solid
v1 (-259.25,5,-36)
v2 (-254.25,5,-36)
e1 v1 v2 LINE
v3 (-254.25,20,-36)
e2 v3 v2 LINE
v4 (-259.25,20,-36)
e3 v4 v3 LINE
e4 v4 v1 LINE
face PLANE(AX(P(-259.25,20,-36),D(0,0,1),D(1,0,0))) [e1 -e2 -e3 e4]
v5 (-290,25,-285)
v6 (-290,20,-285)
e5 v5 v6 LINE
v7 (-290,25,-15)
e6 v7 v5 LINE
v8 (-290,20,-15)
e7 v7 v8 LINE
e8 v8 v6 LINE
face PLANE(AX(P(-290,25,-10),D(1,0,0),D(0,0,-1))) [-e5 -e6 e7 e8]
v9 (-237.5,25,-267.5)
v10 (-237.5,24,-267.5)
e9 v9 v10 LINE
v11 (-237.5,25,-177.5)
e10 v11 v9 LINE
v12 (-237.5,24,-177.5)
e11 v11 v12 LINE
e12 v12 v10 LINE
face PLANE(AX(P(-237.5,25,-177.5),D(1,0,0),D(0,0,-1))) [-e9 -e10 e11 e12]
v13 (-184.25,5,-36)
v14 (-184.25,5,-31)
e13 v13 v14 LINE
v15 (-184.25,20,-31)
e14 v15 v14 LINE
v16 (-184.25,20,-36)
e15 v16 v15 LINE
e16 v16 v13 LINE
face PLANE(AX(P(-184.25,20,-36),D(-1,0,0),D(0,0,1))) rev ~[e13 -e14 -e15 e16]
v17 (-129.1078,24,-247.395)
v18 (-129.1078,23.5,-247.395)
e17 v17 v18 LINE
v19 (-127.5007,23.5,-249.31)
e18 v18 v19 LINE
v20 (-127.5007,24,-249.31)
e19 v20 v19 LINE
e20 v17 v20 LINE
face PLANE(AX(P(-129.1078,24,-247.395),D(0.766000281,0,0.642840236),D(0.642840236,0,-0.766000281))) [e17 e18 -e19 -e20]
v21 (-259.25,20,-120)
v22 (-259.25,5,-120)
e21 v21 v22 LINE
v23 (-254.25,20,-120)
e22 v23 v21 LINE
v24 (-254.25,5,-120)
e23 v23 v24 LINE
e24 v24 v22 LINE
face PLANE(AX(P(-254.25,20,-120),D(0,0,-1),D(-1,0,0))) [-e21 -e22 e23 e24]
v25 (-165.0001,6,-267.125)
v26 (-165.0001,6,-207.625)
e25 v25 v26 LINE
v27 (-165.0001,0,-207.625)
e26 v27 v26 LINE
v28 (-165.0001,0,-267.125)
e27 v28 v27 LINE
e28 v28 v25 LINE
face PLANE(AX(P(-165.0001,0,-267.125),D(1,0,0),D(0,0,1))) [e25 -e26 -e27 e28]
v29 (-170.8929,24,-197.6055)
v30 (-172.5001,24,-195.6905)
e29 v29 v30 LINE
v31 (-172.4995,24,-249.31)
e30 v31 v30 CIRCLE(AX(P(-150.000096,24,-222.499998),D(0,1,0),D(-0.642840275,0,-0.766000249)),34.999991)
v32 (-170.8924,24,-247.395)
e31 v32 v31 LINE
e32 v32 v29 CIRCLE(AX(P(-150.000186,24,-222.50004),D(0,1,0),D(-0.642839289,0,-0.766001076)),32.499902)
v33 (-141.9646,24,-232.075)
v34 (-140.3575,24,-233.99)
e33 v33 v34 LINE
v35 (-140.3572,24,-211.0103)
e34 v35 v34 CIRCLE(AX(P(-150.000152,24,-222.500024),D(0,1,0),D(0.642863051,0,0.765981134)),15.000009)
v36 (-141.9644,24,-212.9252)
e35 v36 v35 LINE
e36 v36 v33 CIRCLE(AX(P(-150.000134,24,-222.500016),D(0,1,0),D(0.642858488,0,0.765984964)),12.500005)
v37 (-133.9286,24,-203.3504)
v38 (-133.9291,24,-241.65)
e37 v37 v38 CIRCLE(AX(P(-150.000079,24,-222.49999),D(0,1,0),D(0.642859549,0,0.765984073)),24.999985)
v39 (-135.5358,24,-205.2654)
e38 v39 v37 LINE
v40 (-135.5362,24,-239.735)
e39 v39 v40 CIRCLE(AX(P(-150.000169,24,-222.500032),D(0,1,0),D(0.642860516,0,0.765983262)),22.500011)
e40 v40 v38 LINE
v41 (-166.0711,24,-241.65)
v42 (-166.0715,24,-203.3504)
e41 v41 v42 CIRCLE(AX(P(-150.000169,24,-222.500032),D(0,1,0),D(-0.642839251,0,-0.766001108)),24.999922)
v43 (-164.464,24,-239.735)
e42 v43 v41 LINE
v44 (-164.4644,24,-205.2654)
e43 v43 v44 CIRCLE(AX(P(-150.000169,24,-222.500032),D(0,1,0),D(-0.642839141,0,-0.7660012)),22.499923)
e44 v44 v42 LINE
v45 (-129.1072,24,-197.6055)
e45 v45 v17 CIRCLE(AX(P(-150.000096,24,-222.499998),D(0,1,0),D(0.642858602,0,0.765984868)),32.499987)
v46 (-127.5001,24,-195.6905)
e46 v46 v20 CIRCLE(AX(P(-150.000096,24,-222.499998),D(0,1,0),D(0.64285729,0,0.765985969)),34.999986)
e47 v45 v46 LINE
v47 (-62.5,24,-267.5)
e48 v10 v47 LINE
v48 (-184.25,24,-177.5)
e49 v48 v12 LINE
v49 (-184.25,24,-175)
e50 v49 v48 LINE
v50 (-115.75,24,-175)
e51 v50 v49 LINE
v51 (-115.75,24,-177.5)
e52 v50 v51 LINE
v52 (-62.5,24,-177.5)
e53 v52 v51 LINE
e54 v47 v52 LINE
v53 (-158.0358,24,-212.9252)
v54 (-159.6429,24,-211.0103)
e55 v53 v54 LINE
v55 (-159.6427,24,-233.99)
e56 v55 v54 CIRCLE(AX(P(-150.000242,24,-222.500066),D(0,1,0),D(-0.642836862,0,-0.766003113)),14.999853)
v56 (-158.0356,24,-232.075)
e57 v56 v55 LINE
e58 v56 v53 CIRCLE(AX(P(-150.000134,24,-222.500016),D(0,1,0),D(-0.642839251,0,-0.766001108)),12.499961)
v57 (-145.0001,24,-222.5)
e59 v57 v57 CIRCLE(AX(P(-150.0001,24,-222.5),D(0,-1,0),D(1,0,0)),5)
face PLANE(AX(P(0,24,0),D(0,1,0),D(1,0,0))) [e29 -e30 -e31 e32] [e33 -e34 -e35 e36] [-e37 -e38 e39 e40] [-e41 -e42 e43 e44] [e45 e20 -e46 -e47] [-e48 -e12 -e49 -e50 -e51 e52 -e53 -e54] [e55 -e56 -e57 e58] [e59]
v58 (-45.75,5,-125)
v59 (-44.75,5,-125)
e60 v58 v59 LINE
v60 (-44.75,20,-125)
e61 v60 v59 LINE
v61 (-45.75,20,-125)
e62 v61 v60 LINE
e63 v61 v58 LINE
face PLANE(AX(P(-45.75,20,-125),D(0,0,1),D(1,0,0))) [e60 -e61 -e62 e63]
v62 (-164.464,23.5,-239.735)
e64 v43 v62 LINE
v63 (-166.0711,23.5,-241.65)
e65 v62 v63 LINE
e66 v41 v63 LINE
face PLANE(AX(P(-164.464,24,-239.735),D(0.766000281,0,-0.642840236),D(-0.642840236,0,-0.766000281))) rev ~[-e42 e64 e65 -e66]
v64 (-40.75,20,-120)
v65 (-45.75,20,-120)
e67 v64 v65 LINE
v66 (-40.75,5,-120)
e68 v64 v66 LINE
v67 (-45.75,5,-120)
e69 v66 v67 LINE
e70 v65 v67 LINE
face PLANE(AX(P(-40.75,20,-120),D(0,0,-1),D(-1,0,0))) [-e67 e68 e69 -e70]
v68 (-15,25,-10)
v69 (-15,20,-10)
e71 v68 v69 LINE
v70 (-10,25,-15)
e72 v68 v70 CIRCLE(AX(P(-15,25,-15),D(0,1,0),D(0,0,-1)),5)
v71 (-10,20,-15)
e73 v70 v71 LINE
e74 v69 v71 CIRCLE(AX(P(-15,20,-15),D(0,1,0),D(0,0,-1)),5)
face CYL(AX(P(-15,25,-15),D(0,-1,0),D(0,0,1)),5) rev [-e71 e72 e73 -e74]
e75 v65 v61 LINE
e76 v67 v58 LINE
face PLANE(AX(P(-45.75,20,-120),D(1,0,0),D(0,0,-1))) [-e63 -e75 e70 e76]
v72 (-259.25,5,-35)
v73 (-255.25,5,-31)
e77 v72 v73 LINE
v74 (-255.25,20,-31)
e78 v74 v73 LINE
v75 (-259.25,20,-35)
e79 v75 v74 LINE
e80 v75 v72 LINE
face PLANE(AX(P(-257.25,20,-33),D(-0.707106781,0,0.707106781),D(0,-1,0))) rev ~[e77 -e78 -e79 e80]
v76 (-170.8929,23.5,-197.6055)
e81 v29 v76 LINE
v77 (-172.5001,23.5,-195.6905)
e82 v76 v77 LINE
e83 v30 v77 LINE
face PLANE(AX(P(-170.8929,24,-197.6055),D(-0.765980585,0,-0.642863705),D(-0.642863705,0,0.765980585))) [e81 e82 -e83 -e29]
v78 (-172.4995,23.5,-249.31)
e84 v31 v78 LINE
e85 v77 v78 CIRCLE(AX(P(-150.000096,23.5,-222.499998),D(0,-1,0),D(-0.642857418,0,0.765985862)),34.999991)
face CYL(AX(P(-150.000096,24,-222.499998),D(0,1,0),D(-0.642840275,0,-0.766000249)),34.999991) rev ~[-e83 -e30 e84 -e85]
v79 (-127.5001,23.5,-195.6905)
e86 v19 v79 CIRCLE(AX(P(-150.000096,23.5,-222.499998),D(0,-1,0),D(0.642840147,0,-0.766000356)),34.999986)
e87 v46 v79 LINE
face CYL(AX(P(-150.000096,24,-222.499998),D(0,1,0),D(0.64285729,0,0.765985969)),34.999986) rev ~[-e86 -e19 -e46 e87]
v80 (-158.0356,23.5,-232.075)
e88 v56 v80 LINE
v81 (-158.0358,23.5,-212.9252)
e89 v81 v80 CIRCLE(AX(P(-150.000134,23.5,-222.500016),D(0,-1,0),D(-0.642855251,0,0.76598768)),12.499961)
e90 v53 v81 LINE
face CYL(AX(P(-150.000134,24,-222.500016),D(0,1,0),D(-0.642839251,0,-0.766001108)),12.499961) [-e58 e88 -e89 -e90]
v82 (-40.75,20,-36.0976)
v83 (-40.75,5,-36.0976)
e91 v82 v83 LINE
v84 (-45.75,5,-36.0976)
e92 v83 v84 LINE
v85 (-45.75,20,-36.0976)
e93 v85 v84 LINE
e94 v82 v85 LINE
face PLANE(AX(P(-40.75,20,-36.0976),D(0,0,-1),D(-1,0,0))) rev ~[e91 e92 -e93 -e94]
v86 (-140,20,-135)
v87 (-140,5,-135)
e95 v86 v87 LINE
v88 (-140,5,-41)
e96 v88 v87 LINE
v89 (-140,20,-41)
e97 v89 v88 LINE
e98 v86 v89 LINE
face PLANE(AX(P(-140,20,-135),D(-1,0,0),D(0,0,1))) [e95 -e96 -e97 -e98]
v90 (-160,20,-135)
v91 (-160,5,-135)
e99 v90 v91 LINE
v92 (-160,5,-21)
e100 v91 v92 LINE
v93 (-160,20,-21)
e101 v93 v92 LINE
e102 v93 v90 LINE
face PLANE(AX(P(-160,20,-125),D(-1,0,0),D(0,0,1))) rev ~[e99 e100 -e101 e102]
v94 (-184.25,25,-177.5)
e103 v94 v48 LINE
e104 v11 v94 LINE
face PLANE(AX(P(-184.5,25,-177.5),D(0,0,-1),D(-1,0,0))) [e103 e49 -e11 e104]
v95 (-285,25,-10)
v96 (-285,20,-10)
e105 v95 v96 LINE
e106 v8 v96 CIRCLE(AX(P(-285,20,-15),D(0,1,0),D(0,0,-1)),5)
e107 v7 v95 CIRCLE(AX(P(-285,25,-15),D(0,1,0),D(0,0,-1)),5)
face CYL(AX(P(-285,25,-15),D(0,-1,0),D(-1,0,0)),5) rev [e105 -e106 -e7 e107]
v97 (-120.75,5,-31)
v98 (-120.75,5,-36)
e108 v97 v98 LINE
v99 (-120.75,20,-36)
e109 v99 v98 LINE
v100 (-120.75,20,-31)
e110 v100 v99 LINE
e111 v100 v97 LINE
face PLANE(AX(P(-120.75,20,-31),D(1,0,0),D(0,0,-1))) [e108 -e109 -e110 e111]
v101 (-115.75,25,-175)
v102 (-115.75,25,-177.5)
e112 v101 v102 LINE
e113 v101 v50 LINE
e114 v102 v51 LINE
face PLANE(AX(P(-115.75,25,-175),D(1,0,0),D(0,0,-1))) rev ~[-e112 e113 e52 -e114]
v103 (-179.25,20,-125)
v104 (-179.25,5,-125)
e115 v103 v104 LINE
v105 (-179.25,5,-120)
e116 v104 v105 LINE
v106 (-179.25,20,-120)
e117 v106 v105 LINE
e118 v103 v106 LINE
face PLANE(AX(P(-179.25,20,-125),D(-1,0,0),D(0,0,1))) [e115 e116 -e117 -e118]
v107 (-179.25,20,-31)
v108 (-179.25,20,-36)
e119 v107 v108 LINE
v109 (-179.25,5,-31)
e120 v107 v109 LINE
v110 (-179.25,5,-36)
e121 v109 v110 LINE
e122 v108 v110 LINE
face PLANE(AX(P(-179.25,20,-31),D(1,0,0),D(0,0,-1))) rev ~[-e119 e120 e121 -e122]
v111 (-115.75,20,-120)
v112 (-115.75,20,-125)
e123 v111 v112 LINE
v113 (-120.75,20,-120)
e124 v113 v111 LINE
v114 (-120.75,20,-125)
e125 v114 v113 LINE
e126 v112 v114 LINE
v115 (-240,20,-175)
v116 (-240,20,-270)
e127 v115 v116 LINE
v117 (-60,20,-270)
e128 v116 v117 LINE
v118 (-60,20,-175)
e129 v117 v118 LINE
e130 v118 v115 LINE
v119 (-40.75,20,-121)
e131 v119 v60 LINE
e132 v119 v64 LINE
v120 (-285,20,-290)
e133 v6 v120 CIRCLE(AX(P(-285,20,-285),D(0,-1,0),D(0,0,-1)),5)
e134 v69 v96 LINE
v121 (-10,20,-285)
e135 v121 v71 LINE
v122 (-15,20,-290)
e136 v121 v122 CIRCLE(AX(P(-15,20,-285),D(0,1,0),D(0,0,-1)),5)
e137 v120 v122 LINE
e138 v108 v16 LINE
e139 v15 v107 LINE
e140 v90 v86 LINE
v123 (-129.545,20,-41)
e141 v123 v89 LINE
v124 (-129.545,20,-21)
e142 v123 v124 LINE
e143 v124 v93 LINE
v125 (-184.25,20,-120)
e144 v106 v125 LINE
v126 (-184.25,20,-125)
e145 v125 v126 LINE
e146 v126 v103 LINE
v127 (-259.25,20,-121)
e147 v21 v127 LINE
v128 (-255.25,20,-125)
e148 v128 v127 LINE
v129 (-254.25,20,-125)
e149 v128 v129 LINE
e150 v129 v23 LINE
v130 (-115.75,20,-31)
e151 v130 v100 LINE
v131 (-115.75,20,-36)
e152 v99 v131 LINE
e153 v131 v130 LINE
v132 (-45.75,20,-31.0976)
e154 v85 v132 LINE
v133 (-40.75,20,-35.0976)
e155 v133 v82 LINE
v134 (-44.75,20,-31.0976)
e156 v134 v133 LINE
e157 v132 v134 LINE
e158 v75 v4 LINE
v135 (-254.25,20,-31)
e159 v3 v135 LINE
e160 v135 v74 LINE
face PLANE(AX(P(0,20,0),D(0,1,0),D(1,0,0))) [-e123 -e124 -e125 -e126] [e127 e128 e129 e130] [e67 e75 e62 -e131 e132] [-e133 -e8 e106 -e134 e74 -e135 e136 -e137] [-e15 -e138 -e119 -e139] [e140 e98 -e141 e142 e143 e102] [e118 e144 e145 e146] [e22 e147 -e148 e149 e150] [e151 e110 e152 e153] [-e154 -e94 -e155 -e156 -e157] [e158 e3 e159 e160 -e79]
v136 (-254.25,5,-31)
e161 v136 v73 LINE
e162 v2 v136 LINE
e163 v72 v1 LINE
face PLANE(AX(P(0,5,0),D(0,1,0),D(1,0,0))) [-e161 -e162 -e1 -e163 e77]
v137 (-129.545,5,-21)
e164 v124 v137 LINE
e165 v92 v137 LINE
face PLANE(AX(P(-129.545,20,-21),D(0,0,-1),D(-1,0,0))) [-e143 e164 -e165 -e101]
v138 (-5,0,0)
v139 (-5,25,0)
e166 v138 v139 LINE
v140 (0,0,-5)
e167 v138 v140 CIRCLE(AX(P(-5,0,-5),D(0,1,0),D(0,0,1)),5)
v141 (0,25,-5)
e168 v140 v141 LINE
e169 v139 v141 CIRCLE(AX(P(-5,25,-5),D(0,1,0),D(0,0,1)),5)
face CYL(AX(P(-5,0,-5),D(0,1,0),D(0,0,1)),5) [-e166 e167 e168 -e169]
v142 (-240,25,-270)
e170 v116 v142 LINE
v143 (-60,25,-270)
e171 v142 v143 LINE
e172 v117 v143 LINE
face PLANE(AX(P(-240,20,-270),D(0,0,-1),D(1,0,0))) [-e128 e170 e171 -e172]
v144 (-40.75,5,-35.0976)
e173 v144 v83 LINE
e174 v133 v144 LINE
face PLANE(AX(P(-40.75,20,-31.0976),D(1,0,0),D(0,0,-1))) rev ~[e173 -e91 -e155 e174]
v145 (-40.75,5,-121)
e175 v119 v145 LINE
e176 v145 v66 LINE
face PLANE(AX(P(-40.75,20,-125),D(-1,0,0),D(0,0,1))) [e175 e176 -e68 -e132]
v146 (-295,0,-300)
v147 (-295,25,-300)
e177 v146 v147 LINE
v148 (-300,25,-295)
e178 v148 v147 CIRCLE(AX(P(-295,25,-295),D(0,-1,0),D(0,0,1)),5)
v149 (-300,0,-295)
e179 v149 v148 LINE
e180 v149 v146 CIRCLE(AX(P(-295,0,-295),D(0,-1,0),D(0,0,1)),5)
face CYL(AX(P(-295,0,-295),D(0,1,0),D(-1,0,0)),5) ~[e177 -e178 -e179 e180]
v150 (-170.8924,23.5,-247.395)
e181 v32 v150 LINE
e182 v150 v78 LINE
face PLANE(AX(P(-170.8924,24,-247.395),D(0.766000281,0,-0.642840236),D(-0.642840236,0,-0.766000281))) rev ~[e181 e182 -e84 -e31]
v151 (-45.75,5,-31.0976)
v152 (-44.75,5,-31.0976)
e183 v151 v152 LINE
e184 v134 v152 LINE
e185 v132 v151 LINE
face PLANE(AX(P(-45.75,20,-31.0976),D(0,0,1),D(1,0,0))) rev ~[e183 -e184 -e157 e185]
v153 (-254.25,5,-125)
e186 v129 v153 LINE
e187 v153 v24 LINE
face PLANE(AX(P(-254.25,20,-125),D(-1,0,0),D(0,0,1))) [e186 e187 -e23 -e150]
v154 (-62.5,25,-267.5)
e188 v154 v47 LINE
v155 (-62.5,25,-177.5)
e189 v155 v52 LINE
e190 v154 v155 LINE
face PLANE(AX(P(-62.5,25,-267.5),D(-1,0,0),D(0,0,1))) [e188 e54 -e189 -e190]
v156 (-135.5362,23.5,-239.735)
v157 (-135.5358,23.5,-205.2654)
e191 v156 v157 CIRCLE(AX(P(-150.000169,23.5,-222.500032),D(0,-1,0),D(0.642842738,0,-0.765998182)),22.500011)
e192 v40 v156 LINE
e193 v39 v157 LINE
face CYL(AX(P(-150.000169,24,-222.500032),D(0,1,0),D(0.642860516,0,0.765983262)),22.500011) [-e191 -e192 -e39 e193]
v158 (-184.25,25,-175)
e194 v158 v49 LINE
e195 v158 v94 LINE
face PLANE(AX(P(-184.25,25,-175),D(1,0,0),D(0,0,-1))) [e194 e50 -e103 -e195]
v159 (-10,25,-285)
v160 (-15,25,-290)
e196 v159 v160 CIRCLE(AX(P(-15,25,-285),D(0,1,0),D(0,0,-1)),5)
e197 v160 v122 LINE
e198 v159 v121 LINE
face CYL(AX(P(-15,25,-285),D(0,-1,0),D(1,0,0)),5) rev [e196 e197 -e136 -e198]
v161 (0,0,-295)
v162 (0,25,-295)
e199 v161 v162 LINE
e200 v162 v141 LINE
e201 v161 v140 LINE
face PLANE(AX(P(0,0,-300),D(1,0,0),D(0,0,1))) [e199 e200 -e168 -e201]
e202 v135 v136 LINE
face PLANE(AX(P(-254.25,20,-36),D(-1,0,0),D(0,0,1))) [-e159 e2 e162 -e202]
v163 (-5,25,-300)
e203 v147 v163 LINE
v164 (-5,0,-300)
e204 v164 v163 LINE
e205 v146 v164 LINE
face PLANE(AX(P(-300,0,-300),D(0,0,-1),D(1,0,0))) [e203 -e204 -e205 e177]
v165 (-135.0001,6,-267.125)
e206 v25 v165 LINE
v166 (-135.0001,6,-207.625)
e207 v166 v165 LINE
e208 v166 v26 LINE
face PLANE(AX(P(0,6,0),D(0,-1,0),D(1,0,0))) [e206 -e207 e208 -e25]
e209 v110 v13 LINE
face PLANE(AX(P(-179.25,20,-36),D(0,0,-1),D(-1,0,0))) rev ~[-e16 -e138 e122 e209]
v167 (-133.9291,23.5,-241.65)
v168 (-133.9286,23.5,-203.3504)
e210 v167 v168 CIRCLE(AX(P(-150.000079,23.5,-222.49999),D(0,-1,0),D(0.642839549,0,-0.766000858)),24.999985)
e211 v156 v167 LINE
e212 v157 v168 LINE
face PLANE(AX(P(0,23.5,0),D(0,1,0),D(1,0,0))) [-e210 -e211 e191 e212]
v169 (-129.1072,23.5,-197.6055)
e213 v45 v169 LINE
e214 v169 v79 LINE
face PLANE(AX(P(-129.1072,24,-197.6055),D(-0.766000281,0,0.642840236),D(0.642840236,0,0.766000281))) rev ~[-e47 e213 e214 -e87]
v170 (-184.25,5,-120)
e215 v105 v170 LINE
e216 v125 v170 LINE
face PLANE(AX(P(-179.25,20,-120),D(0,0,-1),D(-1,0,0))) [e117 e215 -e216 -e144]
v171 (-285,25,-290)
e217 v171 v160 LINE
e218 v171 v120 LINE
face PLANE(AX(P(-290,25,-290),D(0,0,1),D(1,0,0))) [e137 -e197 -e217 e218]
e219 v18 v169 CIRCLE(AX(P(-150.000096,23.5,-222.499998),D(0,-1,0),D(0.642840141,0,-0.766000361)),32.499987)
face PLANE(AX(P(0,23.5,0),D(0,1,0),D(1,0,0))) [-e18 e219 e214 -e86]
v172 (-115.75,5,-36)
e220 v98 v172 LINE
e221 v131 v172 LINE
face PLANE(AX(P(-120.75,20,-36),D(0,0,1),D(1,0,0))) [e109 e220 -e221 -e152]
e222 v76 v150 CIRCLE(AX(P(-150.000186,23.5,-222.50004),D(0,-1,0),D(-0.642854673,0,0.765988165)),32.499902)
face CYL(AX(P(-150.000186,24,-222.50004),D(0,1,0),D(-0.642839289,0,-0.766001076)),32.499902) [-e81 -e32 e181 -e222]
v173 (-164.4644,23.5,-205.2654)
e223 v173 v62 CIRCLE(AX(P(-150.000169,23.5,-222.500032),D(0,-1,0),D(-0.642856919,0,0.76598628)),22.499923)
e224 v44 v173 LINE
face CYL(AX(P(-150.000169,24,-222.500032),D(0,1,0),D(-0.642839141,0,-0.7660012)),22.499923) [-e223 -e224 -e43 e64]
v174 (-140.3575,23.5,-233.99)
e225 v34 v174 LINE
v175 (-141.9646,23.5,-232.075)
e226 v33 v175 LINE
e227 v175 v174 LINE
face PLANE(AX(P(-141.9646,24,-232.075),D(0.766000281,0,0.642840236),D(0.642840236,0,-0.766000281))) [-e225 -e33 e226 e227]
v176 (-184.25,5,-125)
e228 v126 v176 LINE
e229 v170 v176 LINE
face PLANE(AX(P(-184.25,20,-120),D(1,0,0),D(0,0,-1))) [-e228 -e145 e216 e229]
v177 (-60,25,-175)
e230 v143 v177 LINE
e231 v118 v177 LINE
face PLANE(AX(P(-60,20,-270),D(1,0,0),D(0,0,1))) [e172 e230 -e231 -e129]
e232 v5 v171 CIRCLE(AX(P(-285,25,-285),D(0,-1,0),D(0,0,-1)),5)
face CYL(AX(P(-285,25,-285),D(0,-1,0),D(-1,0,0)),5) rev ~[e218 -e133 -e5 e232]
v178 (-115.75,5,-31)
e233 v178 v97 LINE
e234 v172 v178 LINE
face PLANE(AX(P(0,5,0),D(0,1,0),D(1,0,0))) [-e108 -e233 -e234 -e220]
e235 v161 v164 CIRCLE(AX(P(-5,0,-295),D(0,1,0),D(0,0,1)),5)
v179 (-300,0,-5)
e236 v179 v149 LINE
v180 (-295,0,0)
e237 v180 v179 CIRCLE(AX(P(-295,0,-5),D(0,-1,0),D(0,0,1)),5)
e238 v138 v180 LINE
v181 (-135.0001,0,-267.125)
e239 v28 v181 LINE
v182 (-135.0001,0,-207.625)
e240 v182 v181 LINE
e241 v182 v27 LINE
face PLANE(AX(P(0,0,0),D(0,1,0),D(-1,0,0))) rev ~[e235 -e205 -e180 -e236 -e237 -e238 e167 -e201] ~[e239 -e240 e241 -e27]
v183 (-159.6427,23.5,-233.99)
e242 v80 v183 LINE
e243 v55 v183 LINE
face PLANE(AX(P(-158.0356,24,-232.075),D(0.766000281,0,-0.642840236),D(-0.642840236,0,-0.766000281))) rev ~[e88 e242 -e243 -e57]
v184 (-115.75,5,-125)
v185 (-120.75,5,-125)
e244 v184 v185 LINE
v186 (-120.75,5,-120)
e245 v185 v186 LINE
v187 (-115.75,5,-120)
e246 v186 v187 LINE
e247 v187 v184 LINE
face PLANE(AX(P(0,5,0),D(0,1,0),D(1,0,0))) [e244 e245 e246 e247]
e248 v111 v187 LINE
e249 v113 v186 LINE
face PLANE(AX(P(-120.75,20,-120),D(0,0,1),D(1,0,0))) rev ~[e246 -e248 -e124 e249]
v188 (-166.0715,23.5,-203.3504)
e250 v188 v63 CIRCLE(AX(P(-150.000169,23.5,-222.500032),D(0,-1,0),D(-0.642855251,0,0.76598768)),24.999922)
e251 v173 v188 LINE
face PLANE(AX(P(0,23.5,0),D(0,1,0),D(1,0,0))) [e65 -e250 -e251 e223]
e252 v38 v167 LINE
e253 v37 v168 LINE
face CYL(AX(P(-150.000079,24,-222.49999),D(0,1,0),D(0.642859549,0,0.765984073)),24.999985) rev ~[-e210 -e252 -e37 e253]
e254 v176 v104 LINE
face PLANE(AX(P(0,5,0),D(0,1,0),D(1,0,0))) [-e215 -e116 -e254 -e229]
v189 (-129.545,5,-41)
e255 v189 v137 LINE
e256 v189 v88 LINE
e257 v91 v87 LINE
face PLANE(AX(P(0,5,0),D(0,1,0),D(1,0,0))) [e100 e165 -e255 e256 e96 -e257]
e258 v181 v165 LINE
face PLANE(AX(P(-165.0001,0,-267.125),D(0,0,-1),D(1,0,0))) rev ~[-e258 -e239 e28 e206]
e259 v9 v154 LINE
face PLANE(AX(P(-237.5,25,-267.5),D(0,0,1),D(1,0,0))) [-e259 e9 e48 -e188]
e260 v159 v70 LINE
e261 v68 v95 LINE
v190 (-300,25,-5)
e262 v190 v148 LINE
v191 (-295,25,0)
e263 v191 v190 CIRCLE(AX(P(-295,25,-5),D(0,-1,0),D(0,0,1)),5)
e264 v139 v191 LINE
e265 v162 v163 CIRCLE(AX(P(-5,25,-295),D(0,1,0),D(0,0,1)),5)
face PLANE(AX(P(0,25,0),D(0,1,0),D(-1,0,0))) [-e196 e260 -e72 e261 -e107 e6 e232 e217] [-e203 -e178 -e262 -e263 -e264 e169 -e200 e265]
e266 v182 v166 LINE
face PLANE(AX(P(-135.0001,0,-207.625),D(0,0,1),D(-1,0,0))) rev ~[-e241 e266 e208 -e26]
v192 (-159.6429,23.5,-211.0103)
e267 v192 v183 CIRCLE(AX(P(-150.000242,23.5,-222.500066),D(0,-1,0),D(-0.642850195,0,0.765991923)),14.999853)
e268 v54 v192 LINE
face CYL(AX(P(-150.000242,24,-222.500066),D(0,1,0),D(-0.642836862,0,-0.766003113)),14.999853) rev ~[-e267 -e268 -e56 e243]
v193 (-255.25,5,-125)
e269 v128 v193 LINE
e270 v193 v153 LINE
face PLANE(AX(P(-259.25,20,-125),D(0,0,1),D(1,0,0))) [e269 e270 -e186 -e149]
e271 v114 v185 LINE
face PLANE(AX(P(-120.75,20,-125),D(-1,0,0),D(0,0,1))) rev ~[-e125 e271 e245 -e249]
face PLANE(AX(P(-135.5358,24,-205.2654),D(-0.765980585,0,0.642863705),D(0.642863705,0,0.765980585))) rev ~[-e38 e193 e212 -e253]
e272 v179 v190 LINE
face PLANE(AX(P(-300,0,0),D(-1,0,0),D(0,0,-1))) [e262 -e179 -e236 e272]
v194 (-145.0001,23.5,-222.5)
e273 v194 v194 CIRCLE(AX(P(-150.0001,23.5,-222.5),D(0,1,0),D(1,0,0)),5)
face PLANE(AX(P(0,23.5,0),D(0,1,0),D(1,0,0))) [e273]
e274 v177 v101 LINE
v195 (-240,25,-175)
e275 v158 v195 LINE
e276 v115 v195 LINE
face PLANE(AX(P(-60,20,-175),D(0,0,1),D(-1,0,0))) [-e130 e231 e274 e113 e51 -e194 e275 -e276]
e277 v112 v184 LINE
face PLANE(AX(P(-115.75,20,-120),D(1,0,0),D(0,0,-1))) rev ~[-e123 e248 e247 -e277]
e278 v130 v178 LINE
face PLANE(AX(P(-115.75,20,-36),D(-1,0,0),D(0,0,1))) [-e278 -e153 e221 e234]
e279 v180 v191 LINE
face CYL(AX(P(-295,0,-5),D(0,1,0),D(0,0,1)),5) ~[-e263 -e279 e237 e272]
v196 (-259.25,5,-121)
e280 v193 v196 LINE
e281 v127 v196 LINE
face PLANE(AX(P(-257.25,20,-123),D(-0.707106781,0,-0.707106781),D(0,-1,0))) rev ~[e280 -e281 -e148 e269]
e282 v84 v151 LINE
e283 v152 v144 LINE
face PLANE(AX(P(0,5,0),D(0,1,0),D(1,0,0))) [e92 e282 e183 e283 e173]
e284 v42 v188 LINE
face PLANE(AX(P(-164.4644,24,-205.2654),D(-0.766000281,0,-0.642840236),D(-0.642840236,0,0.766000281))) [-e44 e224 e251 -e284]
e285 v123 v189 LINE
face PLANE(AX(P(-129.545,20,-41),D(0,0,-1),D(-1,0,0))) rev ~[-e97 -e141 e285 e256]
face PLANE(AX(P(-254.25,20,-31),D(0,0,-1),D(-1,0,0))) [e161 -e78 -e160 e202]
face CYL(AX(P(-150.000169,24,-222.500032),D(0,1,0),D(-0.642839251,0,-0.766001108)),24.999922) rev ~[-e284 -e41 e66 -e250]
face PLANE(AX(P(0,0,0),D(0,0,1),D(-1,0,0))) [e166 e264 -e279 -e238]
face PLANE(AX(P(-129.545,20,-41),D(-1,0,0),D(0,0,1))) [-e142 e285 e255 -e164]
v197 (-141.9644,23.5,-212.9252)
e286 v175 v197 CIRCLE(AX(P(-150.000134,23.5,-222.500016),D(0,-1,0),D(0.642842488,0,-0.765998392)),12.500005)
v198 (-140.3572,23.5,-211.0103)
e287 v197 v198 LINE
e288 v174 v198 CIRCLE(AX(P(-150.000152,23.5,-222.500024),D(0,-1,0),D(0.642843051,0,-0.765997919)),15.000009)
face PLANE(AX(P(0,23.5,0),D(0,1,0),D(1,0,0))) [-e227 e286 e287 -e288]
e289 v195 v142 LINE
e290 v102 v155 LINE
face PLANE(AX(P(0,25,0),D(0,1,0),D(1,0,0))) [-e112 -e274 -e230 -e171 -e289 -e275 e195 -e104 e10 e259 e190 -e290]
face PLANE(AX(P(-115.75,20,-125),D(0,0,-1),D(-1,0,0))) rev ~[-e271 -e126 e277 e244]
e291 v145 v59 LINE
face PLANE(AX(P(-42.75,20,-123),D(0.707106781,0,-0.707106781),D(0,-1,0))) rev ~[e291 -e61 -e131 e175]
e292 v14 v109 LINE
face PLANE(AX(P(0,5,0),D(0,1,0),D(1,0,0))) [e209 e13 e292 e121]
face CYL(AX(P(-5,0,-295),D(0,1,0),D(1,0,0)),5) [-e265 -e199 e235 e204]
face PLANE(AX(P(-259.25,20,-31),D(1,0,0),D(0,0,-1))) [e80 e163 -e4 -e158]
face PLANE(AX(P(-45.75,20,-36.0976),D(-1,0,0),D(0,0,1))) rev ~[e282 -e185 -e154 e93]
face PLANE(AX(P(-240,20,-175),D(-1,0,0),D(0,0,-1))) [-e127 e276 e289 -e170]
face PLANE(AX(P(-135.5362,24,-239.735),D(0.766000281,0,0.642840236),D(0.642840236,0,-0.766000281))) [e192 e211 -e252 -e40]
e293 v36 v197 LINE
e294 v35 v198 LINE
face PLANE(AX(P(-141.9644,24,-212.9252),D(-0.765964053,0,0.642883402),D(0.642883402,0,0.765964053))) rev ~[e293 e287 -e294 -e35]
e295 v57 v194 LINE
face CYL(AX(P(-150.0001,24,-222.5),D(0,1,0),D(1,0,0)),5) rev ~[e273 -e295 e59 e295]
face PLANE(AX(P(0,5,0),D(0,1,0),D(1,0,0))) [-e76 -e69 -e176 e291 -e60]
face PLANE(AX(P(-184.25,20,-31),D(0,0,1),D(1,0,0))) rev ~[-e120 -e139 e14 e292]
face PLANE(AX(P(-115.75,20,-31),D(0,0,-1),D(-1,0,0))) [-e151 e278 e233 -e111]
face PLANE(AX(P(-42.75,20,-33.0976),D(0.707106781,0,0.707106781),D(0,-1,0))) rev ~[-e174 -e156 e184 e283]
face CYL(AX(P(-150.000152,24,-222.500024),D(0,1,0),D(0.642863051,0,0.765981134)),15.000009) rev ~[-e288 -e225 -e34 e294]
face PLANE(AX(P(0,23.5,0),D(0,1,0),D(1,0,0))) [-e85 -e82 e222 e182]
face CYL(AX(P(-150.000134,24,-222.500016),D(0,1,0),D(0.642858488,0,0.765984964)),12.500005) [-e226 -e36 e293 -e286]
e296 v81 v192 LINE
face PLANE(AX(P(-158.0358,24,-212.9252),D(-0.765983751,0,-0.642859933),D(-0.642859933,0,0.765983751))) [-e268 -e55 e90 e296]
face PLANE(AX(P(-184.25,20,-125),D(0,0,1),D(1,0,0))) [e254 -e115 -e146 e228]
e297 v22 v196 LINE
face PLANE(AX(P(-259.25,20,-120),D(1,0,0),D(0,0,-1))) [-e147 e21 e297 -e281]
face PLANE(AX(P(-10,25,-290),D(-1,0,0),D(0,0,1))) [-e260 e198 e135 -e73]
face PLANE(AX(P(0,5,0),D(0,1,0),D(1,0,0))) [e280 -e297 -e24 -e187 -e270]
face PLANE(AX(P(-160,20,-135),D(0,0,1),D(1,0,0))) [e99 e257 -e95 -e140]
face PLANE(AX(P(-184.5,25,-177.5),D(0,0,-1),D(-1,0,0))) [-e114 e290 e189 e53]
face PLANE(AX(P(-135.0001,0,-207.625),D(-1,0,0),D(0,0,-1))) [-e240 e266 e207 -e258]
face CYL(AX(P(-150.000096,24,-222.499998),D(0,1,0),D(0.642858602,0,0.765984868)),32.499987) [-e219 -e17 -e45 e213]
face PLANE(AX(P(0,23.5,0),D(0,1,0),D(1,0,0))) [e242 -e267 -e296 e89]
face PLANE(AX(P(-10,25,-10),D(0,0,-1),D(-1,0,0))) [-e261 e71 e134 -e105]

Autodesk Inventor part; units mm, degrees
ref_plane "YZ Plane" through (0, 0, 0) normal (1, 0, 0) x (0, 1, 0)
ref_plane "XZ Plane" through (0, 0, 0) normal (0, 1, 0) x (-1, 0, 0)
ref_plane "XY Plane" through (0, 0, 0) normal (0, 0, 1) x (1, 0, 0)
sketch "Sketch1" plane through (0, 0, 0) normal (0, 1, 0) x (-1, 0, 0)
  line L0 (0, 0) -> (300, 0)
  line L1 (300, 0) -> (300, -300)
  line L2 (300, -300) -> (0, -300)
  line L3 (0, -300) -> (0, 0)
  dimension "d0" = 300
  dimension "d1" = 300
extrude "Extrusion1" add sketch "Sketch1" along normal blind 25
sketch "Sketch2" plane through (0, 25, 0) normal (0, 1, 0) x (1, 0, 0)
  line L0 (-290, 290) -> (-10, 290)
  line L1 (-10, 290) -> (-10, 10)
  line L2 (-10, 10) -> (-290, 10)
  line L3 (-290, 10) -> (-290, 290)
  line L4 (-300, 300) -> (-300, 0) projected
  line L5 (0, 300) -> (-300, 300) projected
  line L6 (0, 0) -> (0, 300) projected
  line L7 (-300, 0) -> (0, 0) projected
  dimension "d4" = 10
  dimension "d5" = 10
  dimension "d6" = 10
  dimension "d7" = 10
extrude "Extrusion2" cut sketch "Sketch2" against normal blind 5 contours L0 L1 L2 L3
fillet "Fillet1" radius 5 4 edges at (-300, 12.5, 0) (0, 12.5, 0) (0, 12.5, -300) (-300, 12.5, -300)
fillet "Fillet2" radius 5 4 edges at (-290, 22.5, -290) (-10, 22.5, -290) (-10, 22.5, -10) (-290, 22.5, -10)
sketch "Sketch3" plane through (0, 20, 0) normal (0, 1, 0) x (1, 0, 0)
  line L0 (-240, 270) -> (-60, 270)
  line L1 (-60, 270) -> (-60, 175)
  line L2 (-60, 175) -> (-240, 175)
  line L3 (-240, 175) -> (-240, 270)
  line L4 (-285, 290) -> (-15, 290) projected
  line L5 (-290, 15) -> (-290, 285) projected
  line L6 (-10, 285) -> (-10, 15) projected
  point P0 (0, 0)
  dimension "d12" = 95
  dimension "d13" = 20
  dimension "d14" = 50
  dimension "d15" = 50
extrude "Extrusion3" add sketch "Sketch3" along normal blind 5
sketch "Sketch4" plane through (0, 25, 0) normal (0, 1, 0) x (1, 0, 0)
  line L0 (-237.5, 267.5) -> (-62.5, 267.5)
  line L1 (-62.5, 267.5) -> (-62.5, 177.5)
  line L2 (-62.5, 177.5) -> (-237.5, 177.5)
  line L3 (-237.5, 177.5) -> (-237.5, 267.5)
  line L4 (-60, 270) -> (-240, 270) projected
  line L5 (-240, 270) -> (-240, 175) projected
  line L6 (-240, 175) -> (-60, 175) projected
  line L7 (-60, 175) -> (-60, 270) projected
  line L8 (-184.5, 174.1716) -> (-115.5, 174.1716)
  line L9 (-115.5, 174.1716) -> (-115.5, 180.8284)
  line L10 (-115.5, 180.8284) -> (-184.5, 180.8284)
  line L11 (-184.5, 180.8284) -> (-184.5, 174.1716)
  line L12 (-184.5, 174.1716) -> (-115.5, 180.8284) construction
  line L13 (-115.5, 174.1716) -> (-184.5, 180.8284) construction
  point P0 (0, 0)
  point P1 (-150, 177.5)
  dimension "d18" = 2.5
  dimension "d19" = 2.5
  dimension "d20" = 2.5
  dimension "d21" = 2.5
  dimension "d64" = 69
extrude "Extrusion4" cut sketch "Sketch4" against normal blind 1 contours L0 L1 L2 L9 L10 L11 L3 | L11 L10 L9 L2
sketch "Sketch5" plane through (0, 24, 0) normal (0, 1, 0) x (1, 0, 0)
  line L0 (-237.5, 177.5) -> (-237.5, 267.5) projected
  line L1 (-62.5, 267.5) -> (-62.5, 177.5) projected
  circle A0 centre (-150.0001, 222.5) radius 5
  line L2 (-129.1072, 197.6055) -> (-127.5001, 195.6905)
  arc A1 (-140.3572, 211.0103) -> (-140.3575, 233.99) centre (-150.0001, 222.5) ccw
  arc A2 (-159.6427, 233.99) -> (-159.6429, 211.0103) centre (-150.0001, 222.5) ccw
  arc A3 (-141.9644, 212.9252) -> (-141.9646, 232.075) centre (-150.0001, 222.5) ccw
  arc A4 (-158.0356, 232.075) -> (-158.0358, 212.9252) centre (-150.0001, 222.5) ccw
  arc A5 (-135.5358, 205.2654) -> (-135.5362, 239.735) centre (-150.0001, 222.5) ccw
  arc A6 (-164.464, 239.735) -> (-164.4644, 205.2654) centre (-150.0001, 222.5) ccw
  arc A7 (-133.9286, 203.3504) -> (-133.9291, 241.65) centre (-150.0001, 222.5) ccw
  arc A8 (-166.0711, 241.65) -> (-166.0715, 203.3504) centre (-150.0001, 222.5) ccw
  arc A9 (-129.1072, 197.6055) -> (-129.1078, 247.395) centre (-150.0001, 222.5) ccw
  arc A10 (-170.8924, 247.395) -> (-170.8929, 197.6055) centre (-150.0001, 222.5) ccw
  arc A11 (-127.5001, 195.6905) -> (-127.5007, 249.31) centre (-150.0001, 222.5) ccw
  arc A12 (-172.4995, 249.31) -> (-172.5001, 195.6905) centre (-150.0001, 222.5) ccw
  line L3 (-129.1078, 247.395) -> (-127.5007, 249.31)
  line L4 (-141.9646, 232.075) -> (-140.3575, 233.99)
  line L5 (-135.5362, 239.735) -> (-133.9291, 241.65)
  line L6 (-135.5358, 205.2654) -> (-133.9286, 203.3504)
  line L7 (-141.9644, 212.9252) -> (-140.3572, 211.0103)
  line L8 (-158.0356, 232.075) -> (-159.6427, 233.99)
  line L9 (-164.464, 239.735) -> (-166.0711, 241.65)
  line L10 (-170.8924, 247.395) -> (-172.4995, 249.31)
  line L11 (-158.0358, 212.9252) -> (-159.6429, 211.0103)
  line L12 (-164.4644, 205.2654) -> (-166.0715, 203.3504)
  line L13 (-170.8929, 197.6055) -> (-172.5001, 195.6905)
  line L14 (-237.5, 222.5) -> (-62.5, 222.5)
  line L15 (-62.5, 267.5) -> (-62.5, 177.5) projected
  line L16 (-240, 175) -> (-60, 175) projected
  line L17 (-150, 175) -> (-150, 270)
  line L18 (-240, 270) -> (-60, 270) projected
  point P0 (0, 0)
  dimension "d53" = 10
extrude "Extrusion6" cut sketch "Sketch5" against normal blind 0.5
sketch "Sketch8" plane through (0, 25, 0) normal (0, 1, 0) x (1, 0, 0)
  line L0 (-240, 175) -> (-240, 270) projected
  line L1 (-240, 175) -> (-150, 175)
  line L2 (-240, 175) -> (-60, 175) projected
  line L3 (-150, 175) -> (-184.25, 175)
  line L4 (-184.25, 175) -> (-184.25, 177.5)
  line L5 (-62.5, 177.5) -> (-237.5, 177.5) projected
  line L6 (-187.5, 180) -> (-112.5, 180) projected
  line L7 (-150, 175) -> (-115.75, 175)
  line L8 (-115.75, 175) -> (-115.75, 177.5)
  line L9 (-184.25, 177.5) -> (-115.75, 177.5)
  point P0 (0, 0)
  dimension "d72" = 34.25
  dimension "d74" = 34.25
extrude "Extrusion9" cut sketch "Sketch8" against normal blind 1
sketch "Sketch11" plane through (0, 0, 0) normal (0, -1, 0) x (1, 0, 0)
  line L0 (-135.0001, -207.625) -> (-135.0001, -222.5) projected
  line L1 (-165.0001, -267.125) -> (-165.0001, -240.3738) projected
  line L2 (-135.0001, -207.625) -> (-165.0001, -207.625)
  line L3 (-165.0001, -207.625) -> (-165.0001, -267.125)
  line L4 (-165.0001, -267.125) -> (-135.0001, -267.125)
  line L5 (-135.0001, -267.125) -> (-135.0001, -207.625)
  point P0 (0, 0)
extrude "Extrusion11" cut sketch "Sketch11" against normal blind 6
sketch "Sketch12" plane through (0, 20, 0) normal (0, 1, 0) x (1, 0, 0)
  line L0 (-184.25, 175) -> (-184.25, 177.5) projected
  line L1 (-60, 175) -> (-240, 175) projected
  line L2 (-184.25, 31) -> (-179.25, 31)
  line L3 (-179.25, 31) -> (-179.25, 36)
  line L4 (-179.25, 36) -> (-184.25, 36)
  line L5 (-184.25, 36) -> (-184.25, 31)
  line L6 (-115.75, 31) -> (-120.75, 31)
  line L7 (-120.75, 31) -> (-120.75, 36)
  line L8 (-120.75, 36) -> (-115.75, 36)
  line L9 (-115.75, 36) -> (-115.75, 31)
  line L10 (-115.75, 125) -> (-120.75, 125)
  line L11 (-120.75, 125) -> (-120.75, 120)
  line L12 (-120.75, 120) -> (-115.75, 120)
  line L13 (-115.75, 120) -> (-115.75, 125)
  line L14 (-184.25, 125) -> (-179.25, 125)
  line L15 (-179.25, 125) -> (-179.25, 120)
  line L16 (-179.25, 120) -> (-184.25, 120)
  line L17 (-184.25, 120) -> (-184.25, 125)
  line L18 (-160, 120) -> (-160, 31)
  line L19 (-140, 41) -> (-140, 125)
  line L20 (-160, 125) -> (-160, 120)
  line L21 (-160, 125) -> (-160, 135)
  line L22 (-160, 135) -> (-140, 135)
  line L23 (-140, 135) -> (-140, 125)
  line L24 (-160, 31) -> (-160, 21)
  line L25 (-160, 21) -> (-140, 21)
  line L26 (-129.545, 41) -> (-129.545, 21)
  line L27 (-129.545, 21) -> (-140, 21)
  line L28 (-129.545, 41) -> (-140, 41)
  point P0 (0, 0)
  dimension "d87" = 50
  dimension "d90" = 94
  dimension "d91" = 5
  dimension "d92" = 5
  dimension "d93" = 5
  dimension "d100" = 10
  dimension "d101" = 10
extrude "Extrusion12" cut sketch "Sketch12" against normal blind 15
sketch "Sketch13" plane through (0, 20, 0) normal (0, 1, 0) x (1, 0, 0)
  line L0 (-120.75, 125) -> (-115.75, 125) projected
  line L1 (-45.75, 125) -> (-40.75, 125)
  line L2 (-40.75, 125) -> (-40.75, 120)
  line L3 (-40.75, 120) -> (-45.75, 120)
  line L4 (-45.75, 120) -> (-45.75, 125)
  line L5 (-45.75, 31.0976) -> (-40.75, 31.0976)
  line L6 (-40.75, 31.0976) -> (-40.75, 36.0976)
  line L7 (-40.75, 36.0976) -> (-45.75, 36.0976)
  line L8 (-45.75, 36.0976) -> (-45.75, 31.0976)
  line L9 (-184.25, 120) -> (-184.25, 125) projected
  line L10 (-254.25, 125) -> (-254.25, 120)
  line L11 (-254.25, 120) -> (-259.25, 120)
  line L12 (-259.25, 120) -> (-259.25, 125)
  line L13 (-259.25, 125) -> (-254.25, 125)
  line L14 (-184.25, 36) -> (-179.25, 36) projected
  line L15 (-254.25, 36) -> (-254.25, 31)
  line L16 (-254.25, 31) -> (-259.25, 31)
  line L17 (-259.25, 31) -> (-259.25, 36)
  line L18 (-259.25, 36) -> (-254.25, 36)
  point P0 (0, 0)
  dimension "d105" = 70
  dimension "d106" = 5
  dimension "d107" = 5
  dimension "d108" = 5
  dimension "d109" = 5
  dimension "d110" = 70
  dimension "d111" = 5
  dimension "d112" = 70
  dimension "d113" = 5
extrude "Extrusion13" cut sketch "Sketch13" against normal blind 15
chamfer "Chamfer1" distance 4 angle 45 2 edges at (-259.25, 12.5, -125) (-40.75, 12.5, -125)
chamfer "Chamfer2" distance 4 angle 45 2 edges at (-40.75, 12.5, -31.0976) (-259.25, 12.5, -31)
properties part number "Board"
